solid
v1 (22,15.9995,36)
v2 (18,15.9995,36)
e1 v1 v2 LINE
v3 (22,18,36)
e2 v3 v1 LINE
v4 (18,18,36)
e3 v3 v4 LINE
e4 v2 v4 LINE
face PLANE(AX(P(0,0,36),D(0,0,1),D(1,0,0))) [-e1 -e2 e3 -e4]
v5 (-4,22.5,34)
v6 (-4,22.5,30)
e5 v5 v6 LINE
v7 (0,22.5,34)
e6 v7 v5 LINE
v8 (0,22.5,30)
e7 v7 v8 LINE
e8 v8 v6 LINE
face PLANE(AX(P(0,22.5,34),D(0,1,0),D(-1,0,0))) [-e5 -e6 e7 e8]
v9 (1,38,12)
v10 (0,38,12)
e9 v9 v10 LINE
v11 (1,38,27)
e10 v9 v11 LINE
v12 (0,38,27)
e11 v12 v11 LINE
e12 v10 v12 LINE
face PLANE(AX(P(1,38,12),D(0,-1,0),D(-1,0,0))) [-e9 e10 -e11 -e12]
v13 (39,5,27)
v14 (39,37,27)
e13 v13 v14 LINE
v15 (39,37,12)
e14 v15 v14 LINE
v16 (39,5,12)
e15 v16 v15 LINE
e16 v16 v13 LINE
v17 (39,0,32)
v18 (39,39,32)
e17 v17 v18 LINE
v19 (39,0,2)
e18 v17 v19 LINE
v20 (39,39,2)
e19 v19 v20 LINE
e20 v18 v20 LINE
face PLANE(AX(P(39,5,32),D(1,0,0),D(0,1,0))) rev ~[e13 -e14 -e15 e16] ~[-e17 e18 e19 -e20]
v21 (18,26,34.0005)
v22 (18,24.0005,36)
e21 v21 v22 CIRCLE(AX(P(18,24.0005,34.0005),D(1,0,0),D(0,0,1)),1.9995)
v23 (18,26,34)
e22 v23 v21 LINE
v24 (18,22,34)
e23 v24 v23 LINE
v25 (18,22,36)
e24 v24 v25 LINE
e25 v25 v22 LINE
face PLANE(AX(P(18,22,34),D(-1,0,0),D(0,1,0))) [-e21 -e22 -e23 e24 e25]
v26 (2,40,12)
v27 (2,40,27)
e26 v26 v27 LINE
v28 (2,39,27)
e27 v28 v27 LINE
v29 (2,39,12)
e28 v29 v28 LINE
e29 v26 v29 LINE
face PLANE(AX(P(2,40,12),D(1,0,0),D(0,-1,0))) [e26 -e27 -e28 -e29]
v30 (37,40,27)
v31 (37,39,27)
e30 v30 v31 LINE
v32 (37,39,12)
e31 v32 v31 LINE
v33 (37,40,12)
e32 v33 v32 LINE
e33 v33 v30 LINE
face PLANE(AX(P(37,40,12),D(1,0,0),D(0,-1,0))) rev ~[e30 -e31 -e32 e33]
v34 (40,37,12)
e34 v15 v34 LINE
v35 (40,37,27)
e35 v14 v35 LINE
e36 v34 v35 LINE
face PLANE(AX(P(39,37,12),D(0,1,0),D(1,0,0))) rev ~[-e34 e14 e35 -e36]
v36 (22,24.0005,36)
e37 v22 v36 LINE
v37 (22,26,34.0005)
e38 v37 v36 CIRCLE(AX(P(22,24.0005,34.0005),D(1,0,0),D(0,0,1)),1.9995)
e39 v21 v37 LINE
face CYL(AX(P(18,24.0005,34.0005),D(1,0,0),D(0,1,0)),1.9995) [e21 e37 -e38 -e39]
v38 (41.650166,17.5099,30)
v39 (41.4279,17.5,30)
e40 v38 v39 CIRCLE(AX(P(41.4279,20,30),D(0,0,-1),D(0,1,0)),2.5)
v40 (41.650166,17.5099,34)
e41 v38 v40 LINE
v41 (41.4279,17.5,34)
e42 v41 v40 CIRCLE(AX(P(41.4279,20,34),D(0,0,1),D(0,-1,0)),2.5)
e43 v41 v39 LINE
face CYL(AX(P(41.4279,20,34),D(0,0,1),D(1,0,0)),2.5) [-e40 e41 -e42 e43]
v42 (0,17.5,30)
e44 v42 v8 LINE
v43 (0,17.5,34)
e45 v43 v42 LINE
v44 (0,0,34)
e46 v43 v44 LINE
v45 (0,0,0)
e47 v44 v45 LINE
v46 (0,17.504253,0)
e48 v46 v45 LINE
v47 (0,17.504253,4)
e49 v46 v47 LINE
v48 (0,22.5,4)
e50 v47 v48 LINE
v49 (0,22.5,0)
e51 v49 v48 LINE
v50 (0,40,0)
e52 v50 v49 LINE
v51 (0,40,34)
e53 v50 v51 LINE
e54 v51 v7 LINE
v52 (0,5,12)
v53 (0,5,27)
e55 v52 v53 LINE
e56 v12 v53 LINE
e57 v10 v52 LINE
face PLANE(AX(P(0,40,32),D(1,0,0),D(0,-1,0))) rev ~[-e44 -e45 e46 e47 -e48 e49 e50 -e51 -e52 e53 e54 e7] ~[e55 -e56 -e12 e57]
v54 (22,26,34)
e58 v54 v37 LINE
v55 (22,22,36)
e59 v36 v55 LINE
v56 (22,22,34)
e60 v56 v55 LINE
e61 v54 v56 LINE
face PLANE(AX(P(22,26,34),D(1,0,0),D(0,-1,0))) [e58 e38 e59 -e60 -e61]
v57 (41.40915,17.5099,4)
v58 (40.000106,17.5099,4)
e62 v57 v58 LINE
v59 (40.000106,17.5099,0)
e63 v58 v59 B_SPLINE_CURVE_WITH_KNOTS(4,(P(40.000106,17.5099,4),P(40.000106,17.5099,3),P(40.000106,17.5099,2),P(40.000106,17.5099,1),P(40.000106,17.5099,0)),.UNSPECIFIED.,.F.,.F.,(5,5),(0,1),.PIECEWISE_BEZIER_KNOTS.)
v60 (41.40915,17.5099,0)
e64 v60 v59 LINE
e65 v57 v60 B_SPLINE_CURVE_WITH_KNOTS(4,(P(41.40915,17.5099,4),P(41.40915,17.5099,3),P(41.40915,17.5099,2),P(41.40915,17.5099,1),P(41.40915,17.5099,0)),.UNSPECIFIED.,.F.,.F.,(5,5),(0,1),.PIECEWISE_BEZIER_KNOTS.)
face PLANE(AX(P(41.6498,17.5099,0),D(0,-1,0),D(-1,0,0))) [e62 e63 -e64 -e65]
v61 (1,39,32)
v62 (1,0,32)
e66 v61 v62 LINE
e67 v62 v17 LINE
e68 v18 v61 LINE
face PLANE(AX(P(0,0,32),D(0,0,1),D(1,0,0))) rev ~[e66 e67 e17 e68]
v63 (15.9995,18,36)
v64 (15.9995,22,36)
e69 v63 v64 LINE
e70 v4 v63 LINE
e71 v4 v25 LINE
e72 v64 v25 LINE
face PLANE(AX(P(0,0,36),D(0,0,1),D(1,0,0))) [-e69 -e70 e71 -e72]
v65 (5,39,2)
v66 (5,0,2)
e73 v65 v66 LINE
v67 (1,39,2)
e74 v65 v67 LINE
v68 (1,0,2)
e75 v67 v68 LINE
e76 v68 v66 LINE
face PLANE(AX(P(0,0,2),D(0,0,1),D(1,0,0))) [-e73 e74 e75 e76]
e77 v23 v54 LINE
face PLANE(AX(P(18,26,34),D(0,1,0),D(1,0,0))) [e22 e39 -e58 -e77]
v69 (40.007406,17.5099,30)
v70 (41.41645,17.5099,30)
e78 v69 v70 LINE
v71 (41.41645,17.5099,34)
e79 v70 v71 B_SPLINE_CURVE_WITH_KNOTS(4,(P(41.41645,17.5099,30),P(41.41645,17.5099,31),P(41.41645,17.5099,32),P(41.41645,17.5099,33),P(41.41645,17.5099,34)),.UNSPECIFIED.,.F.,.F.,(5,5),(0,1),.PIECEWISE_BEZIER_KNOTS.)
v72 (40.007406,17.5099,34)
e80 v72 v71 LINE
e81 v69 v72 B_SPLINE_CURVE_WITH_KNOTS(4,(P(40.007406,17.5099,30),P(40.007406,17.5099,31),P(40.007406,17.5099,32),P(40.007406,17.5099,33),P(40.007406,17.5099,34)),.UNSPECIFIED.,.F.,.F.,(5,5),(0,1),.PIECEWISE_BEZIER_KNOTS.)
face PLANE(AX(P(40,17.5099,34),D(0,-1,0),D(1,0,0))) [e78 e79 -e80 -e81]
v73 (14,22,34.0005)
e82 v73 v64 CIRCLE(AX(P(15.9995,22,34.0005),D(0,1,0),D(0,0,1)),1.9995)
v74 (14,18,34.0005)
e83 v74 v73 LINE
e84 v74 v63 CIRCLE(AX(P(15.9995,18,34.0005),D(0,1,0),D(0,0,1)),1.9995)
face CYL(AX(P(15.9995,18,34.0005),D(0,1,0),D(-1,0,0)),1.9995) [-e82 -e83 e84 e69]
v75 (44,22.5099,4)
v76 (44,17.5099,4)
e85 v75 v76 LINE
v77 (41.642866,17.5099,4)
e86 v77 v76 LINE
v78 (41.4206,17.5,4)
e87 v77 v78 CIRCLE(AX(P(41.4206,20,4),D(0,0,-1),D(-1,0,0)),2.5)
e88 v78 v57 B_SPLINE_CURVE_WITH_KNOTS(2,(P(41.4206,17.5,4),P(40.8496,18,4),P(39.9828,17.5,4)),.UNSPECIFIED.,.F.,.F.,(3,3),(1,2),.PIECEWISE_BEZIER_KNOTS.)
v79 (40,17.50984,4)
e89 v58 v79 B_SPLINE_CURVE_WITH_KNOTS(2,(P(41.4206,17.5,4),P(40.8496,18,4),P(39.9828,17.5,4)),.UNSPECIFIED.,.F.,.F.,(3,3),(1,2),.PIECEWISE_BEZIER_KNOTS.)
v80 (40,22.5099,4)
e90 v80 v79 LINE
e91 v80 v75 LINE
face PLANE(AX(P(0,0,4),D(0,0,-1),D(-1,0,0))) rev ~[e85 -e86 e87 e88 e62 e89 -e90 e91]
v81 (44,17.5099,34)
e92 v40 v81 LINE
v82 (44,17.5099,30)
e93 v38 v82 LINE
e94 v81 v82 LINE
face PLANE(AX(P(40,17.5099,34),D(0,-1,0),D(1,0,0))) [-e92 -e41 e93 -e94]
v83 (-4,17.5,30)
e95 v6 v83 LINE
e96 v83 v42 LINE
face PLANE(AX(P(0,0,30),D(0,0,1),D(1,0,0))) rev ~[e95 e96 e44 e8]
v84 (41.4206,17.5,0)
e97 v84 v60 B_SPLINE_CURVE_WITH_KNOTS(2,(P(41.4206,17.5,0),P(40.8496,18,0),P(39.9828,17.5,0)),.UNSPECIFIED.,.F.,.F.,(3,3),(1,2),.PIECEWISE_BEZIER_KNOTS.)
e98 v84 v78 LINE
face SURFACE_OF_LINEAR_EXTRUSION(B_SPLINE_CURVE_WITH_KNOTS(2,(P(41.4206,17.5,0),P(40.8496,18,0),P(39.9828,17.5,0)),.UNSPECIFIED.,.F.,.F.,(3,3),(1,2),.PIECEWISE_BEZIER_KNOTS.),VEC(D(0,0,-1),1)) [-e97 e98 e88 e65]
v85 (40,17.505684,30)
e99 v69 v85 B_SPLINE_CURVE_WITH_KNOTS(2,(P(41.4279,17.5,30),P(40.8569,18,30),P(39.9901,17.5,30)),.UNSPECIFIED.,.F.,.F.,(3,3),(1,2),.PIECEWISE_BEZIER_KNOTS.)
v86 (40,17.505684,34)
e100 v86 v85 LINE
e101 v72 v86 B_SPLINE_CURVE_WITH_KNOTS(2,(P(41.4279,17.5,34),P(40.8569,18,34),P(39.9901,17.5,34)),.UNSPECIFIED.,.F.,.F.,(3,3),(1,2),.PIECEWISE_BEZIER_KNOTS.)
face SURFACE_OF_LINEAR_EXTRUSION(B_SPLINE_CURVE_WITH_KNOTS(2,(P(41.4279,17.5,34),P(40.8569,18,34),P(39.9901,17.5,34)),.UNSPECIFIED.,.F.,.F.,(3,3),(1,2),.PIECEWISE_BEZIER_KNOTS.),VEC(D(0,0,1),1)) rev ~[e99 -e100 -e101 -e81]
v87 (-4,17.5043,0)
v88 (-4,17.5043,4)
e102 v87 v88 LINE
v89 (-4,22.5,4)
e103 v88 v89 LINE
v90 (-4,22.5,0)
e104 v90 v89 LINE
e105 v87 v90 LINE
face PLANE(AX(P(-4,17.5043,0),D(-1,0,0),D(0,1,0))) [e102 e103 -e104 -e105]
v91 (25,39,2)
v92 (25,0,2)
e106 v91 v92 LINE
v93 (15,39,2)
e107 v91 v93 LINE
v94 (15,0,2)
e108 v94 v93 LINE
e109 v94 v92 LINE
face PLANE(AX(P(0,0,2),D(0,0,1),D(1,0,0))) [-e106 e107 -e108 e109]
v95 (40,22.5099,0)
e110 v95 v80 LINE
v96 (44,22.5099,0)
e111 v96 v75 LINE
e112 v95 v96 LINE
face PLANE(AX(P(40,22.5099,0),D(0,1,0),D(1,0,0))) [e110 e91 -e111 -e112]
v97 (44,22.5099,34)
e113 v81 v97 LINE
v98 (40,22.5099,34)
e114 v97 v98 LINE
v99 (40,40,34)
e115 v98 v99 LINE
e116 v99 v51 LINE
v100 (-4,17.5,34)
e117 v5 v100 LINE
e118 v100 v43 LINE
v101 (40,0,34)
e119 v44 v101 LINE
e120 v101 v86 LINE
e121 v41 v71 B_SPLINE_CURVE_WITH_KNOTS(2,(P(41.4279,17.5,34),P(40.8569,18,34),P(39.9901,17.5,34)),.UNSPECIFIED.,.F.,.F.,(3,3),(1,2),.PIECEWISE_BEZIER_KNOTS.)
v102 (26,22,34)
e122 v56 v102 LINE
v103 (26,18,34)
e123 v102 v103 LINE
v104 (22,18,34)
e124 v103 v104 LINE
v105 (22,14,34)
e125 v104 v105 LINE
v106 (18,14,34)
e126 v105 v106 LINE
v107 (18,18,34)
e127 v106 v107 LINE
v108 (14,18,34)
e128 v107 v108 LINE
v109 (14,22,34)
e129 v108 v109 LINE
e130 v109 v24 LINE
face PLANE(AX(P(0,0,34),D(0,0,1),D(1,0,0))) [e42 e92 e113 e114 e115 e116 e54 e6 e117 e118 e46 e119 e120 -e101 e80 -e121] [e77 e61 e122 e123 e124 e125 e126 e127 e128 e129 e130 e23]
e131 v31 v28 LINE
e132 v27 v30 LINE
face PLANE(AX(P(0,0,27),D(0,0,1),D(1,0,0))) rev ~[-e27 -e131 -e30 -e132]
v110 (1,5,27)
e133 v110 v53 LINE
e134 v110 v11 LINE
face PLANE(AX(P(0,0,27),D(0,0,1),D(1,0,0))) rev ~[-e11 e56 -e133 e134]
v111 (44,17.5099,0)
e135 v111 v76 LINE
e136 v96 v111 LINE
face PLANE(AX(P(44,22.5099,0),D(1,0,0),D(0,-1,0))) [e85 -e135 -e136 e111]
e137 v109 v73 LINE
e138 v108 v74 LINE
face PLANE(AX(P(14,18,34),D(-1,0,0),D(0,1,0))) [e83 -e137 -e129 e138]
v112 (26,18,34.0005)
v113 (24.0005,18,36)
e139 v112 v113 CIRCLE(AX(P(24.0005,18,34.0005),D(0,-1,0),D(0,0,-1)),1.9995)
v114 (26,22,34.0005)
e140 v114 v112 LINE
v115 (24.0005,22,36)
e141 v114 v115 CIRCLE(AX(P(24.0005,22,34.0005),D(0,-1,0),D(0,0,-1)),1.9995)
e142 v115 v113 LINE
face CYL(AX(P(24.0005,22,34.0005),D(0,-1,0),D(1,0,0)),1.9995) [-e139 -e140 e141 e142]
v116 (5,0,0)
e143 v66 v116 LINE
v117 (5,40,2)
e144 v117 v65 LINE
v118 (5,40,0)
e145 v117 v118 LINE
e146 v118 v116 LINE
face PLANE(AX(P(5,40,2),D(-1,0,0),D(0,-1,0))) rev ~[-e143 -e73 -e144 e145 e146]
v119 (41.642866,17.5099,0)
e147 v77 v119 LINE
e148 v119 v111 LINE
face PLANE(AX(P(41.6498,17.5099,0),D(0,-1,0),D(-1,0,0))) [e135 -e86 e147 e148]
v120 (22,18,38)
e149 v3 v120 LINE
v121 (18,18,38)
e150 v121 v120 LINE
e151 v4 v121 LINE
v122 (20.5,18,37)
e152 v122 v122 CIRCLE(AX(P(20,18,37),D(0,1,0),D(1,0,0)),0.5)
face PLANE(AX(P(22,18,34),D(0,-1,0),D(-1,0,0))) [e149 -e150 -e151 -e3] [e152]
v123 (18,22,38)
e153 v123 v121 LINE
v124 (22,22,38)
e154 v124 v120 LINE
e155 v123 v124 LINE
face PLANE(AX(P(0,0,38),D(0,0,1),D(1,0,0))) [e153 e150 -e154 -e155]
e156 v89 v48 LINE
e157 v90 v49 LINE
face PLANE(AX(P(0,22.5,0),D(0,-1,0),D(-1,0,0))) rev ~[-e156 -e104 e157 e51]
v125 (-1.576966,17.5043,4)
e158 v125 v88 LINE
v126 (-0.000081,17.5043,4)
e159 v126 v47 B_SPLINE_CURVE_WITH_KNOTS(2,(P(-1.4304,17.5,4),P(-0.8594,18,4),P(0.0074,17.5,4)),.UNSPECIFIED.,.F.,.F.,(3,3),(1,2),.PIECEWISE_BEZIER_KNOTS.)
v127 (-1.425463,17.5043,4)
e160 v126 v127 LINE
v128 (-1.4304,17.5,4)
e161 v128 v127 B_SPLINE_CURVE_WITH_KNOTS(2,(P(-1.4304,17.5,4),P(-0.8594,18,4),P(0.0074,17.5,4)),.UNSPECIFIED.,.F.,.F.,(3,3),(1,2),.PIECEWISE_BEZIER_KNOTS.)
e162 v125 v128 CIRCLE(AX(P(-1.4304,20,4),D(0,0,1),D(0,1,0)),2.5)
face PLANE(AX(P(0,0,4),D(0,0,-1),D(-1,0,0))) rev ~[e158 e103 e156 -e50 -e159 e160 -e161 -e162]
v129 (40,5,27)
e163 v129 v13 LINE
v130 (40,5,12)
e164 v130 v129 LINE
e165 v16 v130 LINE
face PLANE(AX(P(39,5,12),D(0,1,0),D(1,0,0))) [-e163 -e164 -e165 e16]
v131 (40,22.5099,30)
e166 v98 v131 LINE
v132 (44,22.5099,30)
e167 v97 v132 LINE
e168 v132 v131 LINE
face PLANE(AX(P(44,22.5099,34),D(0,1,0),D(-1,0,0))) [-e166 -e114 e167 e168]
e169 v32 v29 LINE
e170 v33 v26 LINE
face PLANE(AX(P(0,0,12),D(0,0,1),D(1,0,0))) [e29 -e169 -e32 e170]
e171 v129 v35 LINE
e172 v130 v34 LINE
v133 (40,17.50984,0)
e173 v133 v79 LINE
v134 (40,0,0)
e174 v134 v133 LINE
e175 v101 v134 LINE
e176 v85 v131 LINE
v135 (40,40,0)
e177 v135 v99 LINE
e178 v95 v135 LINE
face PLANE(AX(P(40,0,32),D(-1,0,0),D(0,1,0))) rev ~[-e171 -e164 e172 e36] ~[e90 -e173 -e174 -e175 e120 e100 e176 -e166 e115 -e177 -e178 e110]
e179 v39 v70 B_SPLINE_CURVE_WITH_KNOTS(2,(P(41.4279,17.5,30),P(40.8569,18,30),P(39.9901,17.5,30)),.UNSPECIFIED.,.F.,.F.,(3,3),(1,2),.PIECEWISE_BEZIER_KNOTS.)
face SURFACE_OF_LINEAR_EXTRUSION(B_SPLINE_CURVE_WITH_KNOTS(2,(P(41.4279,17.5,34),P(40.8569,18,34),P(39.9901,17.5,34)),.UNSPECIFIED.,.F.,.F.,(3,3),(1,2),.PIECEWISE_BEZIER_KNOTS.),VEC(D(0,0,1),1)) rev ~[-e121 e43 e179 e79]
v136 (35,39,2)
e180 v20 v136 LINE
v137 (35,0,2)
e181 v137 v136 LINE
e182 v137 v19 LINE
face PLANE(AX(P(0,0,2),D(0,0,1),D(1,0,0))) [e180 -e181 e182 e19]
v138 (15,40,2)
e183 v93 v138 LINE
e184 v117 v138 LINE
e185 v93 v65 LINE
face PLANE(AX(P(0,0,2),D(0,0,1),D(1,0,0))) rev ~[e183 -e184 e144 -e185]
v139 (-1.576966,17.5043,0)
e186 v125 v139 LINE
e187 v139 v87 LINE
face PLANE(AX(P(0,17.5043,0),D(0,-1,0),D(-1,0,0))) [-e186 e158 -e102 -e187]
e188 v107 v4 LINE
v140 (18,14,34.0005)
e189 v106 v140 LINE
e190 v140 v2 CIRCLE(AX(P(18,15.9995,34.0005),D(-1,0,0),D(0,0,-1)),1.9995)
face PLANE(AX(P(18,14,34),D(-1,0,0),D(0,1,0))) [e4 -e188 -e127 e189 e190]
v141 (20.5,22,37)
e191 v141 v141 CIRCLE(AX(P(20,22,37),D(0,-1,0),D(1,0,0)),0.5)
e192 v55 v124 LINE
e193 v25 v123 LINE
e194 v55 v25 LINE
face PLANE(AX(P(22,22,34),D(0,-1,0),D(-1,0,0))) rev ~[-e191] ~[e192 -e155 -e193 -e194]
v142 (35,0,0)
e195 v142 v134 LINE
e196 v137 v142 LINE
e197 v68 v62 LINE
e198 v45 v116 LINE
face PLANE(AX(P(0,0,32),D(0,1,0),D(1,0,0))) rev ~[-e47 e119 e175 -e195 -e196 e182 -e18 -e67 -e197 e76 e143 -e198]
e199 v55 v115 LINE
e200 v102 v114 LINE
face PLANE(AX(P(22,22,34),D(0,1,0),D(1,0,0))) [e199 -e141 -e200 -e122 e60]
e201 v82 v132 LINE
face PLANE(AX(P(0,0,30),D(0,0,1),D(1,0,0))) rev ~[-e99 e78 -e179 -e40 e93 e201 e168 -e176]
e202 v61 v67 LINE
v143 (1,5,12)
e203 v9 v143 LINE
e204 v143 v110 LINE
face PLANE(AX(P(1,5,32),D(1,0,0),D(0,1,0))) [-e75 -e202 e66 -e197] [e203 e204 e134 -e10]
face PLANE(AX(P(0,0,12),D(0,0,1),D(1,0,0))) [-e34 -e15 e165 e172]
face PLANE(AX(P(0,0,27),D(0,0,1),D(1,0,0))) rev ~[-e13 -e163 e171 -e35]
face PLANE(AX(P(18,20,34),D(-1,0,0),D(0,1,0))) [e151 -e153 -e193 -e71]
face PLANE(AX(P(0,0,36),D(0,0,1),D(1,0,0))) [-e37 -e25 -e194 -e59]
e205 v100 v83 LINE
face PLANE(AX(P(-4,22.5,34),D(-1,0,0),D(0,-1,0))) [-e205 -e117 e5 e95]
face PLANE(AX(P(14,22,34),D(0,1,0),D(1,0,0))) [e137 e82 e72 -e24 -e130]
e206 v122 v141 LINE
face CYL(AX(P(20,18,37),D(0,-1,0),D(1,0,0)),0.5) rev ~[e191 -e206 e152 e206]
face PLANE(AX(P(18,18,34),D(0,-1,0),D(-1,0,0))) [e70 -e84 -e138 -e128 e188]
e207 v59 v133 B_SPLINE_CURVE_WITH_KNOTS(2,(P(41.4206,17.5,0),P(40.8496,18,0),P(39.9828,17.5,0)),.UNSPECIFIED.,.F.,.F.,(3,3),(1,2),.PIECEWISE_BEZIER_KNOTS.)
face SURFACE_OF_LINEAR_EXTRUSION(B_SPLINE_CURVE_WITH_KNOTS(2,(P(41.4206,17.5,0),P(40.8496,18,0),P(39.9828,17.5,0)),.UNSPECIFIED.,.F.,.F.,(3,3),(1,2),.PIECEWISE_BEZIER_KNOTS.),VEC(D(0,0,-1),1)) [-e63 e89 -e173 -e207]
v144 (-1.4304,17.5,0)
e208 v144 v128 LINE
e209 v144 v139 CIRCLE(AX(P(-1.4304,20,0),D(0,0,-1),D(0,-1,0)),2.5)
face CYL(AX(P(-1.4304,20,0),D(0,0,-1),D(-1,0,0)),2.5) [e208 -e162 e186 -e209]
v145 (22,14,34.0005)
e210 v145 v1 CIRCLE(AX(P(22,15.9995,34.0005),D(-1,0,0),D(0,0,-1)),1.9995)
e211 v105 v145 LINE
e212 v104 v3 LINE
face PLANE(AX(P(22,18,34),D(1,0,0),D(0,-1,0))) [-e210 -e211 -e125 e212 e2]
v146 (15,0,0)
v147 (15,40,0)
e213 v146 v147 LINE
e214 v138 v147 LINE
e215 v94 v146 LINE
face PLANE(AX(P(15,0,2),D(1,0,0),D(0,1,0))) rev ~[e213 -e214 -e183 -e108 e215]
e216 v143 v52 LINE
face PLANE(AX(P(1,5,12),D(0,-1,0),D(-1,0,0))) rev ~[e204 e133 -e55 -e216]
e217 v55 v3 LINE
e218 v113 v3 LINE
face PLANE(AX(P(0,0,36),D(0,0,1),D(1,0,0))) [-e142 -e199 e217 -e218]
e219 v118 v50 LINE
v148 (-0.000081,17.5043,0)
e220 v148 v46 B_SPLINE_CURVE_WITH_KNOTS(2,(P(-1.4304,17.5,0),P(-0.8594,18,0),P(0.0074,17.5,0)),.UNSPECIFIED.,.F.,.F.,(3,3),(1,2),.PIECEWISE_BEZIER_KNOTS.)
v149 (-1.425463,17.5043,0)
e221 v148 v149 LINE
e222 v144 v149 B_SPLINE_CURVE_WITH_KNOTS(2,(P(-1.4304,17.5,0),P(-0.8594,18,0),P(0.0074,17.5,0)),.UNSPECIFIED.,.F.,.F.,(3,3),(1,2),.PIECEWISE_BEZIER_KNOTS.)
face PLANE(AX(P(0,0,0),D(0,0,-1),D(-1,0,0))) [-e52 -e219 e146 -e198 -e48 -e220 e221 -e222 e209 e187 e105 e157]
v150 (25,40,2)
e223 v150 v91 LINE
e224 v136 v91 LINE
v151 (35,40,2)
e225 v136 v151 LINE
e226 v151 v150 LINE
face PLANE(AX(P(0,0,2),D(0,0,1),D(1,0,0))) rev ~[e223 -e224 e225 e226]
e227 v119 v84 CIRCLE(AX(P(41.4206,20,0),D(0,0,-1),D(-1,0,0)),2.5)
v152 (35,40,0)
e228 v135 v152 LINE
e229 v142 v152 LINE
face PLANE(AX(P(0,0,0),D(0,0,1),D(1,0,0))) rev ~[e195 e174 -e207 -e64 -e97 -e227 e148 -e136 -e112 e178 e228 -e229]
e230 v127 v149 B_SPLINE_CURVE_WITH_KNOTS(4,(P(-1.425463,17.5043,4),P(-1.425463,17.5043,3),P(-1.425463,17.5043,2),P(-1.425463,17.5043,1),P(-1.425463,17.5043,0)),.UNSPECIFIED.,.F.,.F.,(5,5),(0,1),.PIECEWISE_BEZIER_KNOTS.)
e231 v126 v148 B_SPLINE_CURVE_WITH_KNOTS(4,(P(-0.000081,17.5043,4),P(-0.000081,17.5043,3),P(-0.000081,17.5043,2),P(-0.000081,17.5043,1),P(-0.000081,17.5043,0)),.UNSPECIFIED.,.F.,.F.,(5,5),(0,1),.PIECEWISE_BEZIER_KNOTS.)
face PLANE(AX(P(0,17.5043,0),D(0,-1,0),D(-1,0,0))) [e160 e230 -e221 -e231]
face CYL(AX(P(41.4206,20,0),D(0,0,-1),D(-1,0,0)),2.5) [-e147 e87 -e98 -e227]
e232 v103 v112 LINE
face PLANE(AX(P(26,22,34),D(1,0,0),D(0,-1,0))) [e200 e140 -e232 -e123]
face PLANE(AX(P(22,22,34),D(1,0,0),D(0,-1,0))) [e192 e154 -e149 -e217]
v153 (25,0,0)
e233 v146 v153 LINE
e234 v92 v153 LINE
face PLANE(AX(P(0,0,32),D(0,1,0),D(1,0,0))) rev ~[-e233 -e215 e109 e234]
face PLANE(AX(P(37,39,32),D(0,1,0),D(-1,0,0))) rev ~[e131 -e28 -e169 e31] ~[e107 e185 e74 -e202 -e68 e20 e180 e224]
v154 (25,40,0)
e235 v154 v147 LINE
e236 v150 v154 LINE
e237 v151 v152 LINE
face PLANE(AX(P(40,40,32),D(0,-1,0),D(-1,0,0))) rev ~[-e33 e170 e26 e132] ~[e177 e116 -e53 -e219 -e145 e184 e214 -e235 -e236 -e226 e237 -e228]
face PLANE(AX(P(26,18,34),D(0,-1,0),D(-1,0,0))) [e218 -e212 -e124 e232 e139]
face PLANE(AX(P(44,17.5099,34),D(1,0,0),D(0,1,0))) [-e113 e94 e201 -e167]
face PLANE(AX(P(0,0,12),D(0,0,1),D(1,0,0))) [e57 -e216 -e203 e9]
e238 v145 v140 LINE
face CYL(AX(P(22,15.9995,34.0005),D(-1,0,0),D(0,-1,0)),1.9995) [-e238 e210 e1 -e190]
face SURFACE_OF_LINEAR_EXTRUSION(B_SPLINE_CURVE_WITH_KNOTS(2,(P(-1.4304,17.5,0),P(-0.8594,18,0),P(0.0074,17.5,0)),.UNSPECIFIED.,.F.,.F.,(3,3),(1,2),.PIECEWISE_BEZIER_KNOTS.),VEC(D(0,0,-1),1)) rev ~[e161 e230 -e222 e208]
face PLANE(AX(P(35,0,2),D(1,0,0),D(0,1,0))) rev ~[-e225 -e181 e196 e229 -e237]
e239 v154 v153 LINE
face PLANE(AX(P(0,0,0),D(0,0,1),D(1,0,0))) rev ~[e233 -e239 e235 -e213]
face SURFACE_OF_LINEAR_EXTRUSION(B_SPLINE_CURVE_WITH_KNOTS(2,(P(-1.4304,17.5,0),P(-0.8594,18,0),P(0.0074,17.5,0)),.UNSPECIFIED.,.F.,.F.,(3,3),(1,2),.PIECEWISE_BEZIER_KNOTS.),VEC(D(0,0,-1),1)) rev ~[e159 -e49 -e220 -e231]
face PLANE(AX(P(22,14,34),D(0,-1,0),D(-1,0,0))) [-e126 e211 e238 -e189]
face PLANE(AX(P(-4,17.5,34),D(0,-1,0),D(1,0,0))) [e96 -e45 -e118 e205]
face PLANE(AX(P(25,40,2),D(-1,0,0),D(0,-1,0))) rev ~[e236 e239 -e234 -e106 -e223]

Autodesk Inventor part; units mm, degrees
ref_plane "YZ Plane" through (0, 0, 0) normal (1, 0, 0) x (0, 1, 0)
ref_plane "XZ Plane" through (0, 0, 0) normal (0, 1, 0) x (-1, 0, 0)
ref_plane "XY Plane" through (0, 0, 0) normal (0, 0, 1) x (1, 0, 0)
sketch "Esboço1" plane through (0, 0, 0) normal (0, 0, 1) x (1, 0, 0)
  line L0 (0, 0) -> (40, 0)
  line L1 (40, 0) -> (40, 40)
  line L2 (40, 40) -> (0, 40)
  line L3 (0, 40) -> (0, 0)
  dimension "d0" = 40
  dimension "d1" = 40
extrude "Extrusão1" add sketch "Esboço1" along normal blind 2
sketch "Esboço2" plane through (0, 0, 2) normal (0, 0, 1) x (1, 0, 0)
  line L0 (0, 40) -> (0, 0) projected
  line L1 (0, 0) -> (1, 0)
  line L2 (0, 0) -> (40, 0) projected
  line L3 (0, 0) -> (0, 40)
  line L4 (40, 40) -> (0, 40) projected
  line L5 (40, 0) -> (40, 40) projected
  line L6 (40, 40) -> (40, 0)
  line L7 (40, 0) -> (39, 0)
  line L8 (39, 0) -> (39, 39)
  line L9 (39, 39) -> (1, 39)
  line L10 (1, 39) -> (1, 0)
extrude "Extrusão2" add sketch "Esboço2" along normal blind 10 contours L4 L5 L2 L8 L9 L10 L1 L0
sketch "Esboço3" plane through (0, 0, 12) normal (0, 0, 1) x (1, 0, 0)
  line L0 (0, 40) -> (2, 40)
  line L1 (40, 40) -> (0, 40) projected
  line L2 (1, 39) -> (39, 39) projected
  line L3 (2, 39) -> (1, 39)
  line L4 (1, 39) -> (1, 38)
  line L5 (1, 0) -> (1, 39) projected
  line L6 (0, 38) -> (0, 40)
  line L7 (2, 40) -> (2, 39)
  line L8 (1, 38) -> (0, 38)
  line L9 (0, 40) -> (0, 0) projected
extrude "Extrusão3" add sketch "Esboço3" along normal blind 20
sketch "Esboço4" plane through (0, 0, 12) normal (0, 0, 1) x (1, 0, 0)
  line L0 (40, 40) -> (37, 40)
  line L1 (40, 40) -> (0, 40) projected
  line L2 (39, 39) -> (1, 39) projected
  line L3 (37, 39) -> (39, 39)
  line L4 (39, 39) -> (39, 37)
  line L5 (39, 39) -> (39, 0) projected
  line L6 (40, 0) -> (40, 40) projected
  line L7 (40, 37) -> (40, 40)
  line L8 (37, 40) -> (37, 39)
  line L9 (39, 37) -> (40, 37)
  line L10 (40, 40) -> (37, 40)
  line L11 (37, 39) -> (39, 39)
  line L12 (39, 39) -> (39, 37)
  point P0 (0, 0)
extrude "Extrusão4" add sketch "Esboço4" along normal blind 20
sketch "Esboço6" plane through (0, 0, 12) normal (0, 0, 1) x (1, 0, 0)
  line L0 (0, 38) -> (0, 0) projected
  line L1 (1, 0) -> (1, 38) projected
  line L2 (0, 0) -> (1, 0)
  line L3 (1, 0) -> (1, 5)
  line L4 (1, 5) -> (0, 5)
  line L5 (0, 5) -> (0, 0)
  line L6 (0, 0) -> (40, 0) projected
  line L7 (39, 0) -> (39, 39) projected
  line L8 (40, 0) -> (39, 0)
  line L9 (39, 0) -> (39, 5)
  line L10 (39, 5) -> (40, 5)
  line L11 (40, 5) -> (40, 0)
extrude "Extrusão5" add sketch "Esboço6" along normal blind 20
sketch "Esboço7" plane through (0, 0, 32) normal (0, 0, 1) x (1, 0, 0)
  line L0 (0, 38) -> (0, 5) projected
  line L1 (0, 38) -> (1, 38)
  line L2 (1, 5) -> (1, 38) projected
  line L3 (1, 38) -> (1, 5)
  line L4 (1, 5) -> (0, 5)
  line L5 (0, 40) -> (0, 38) projected
  line L6 (0, 5) -> (0, 38)
  point P0 (0, 0)
extrude "Extrusão6" add sketch "Esboço7" against normal blind 5
sketch "Esboço8" plane through (0, 0, 32) normal (0, 0, 1) x (1, 0, 0)
  line L0 (2, 40) -> (0, 40) projected
  line L1 (39, 39) -> (1, 39) projected
  line L2 (2, 40) -> (37, 40)
  line L3 (37, 40) -> (37, 39)
  line L4 (37, 39) -> (2, 39)
  line L5 (2, 39) -> (2, 40)
  point P0 (0, 0)
extrude "Extrusão7" add sketch "Esboço8" against normal blind 5
sketch "Esboço9" plane through (0, 0, 32) normal (0, 0, 1) x (1, 0, 0)
  line L0 (40, 0) -> (40, 40) projected
  line L1 (39, 37) -> (40, 37)
  line L2 (40, 37) -> (40, 5)
  line L3 (40, 5) -> (39, 5)
  line L4 (39, 5) -> (39, 37)
  point P0 (0, 0)
extrude "Extrusão8" add sketch "Esboço9" against normal blind 5
sketch "Esboço10" plane through (0, 0, 32) normal (0, 0, 1) x (1, 0, 0)
  line L0 (40, 40) -> (0, 40) projected
  line L1 (0, 40) -> (0, 0) projected
  line L2 (40, 40) -> (0, 40)
  line L3 (0, 40) -> (0, 0)
  line L4 (0, 0) -> (40, 0)
  line L5 (40, 0) -> (40, 40)
extrude "Extrusão9" add sketch "Esboço10" along normal blind 2
sketch "Esboço14" plane through (0, 0, 34) normal (0, 0, 1) x (1, 0, 0)
  line L0 (0, 40) -> (0, 0) projected
  line L1 (0, 40) -> (0, 20)
  circle A0 centre (-1.4378, 20) radius 2.5
  line L2 (-1.4378, 17.5) -> (-0.8668, 18) construction
  line L3 (-0.8668, 18) -> (0, 17.5) construction
  spline S0 degree 2 poles (-1.4378, 17.5) (-0.8668, 18) (0, 17.5) knots 1 1 1 2 2 2
  line L4 (40, 0) -> (40, 40) projected
  line L5 (40, 40) -> (40, 0)
  line L6 (40, 40) -> (0, 40) projected
  line L7 (0, 40) -> (0, 0)
  circle A1 centre (41.4279, 20) radius 2.5
  line L8 (41.4279, 17.5) -> (40.8569, 18) construction
  line L9 (40.8569, 18) -> (39.9901, 17.5) construction
  spline S1 degree 2 poles (41.4279, 17.5) (40.8569, 18) (39.9901, 17.5) knots 1 1 1 2 2 2
  line L10 (-1.4378, 20) -> (40, 20)
  line L11 (-1.4378, 22.5) -> (-0.8668, 22) construction
  line L12 (-0.8668, 22) -> (0, 22.5) construction
  spline S2 degree 2 poles (-1.4378, 22.5) (-0.8668, 22) (0, 22.5) knots 1 1 1 2 2 2
  spline S3 degree 2 poles (41.4279, 22.5) (40.8569, 22) (39.9901, 22.5) knots 1 1 1 2 2 2
  line L13 (41.4279, 22.5) -> (40.8569, 22) construction
  line L14 (40.8569, 22) -> (39.9901, 22.5) construction
  point P0 (40, 22.4943)
  point P1 (40, 17.5057)
  point P2 (0, 22.5)
  dimension "d30" = 5
extrude "Extrusão11" add sketch "Esboço14" against normal blind 4 contours L0 A0 S2 | L0 A0 S0 S2 | S3 A1 L4 | A1 S3 S1 L4 | L0 S0 A0 | A1 S1 L4
sketch "Esboço15" plane through (0, 0, 0) normal (0, 0, -1) x (-1, 0, 0)
  spline S0 degree 2 poles (1.4304, 17.5) (0.8594, 18) (-0.0074, 17.5) knots 1 1 1 2 2 2
  line L0 (1.4304, 17.5) -> (0.8594, 18) construction
  line L1 (0.8594, 18) -> (-0.0074, 17.5) construction
  circle A0 centre (1.4304, 20) radius 2.5
  spline S1 degree 2 poles (1.4304, 22.5) (0.8594, 22) (-0.0074, 22.5) knots 1 1 1 2 2 2
  line L2 (1.4304, 22.5) -> (0.8594, 22) construction
  line L3 (0.8594, 22) -> (-0.0074, 22.5) construction
  line L4 (-40, 40) -> (0, 40) projected
  line L5 (-40, 40) -> (-40, 0)
  line L6 (-39, 0) -> (-39, 39) projected
  spline S2 degree 2 poles (-41.4206, 17.5) (-40.8496, 18) (-39.9828, 17.5) knots 1 1 1 2 2 2
  line L7 (-41.4206, 17.5) -> (-40.8496, 18) construction
  line L8 (-40.8496, 18) -> (-39.9828, 17.5) construction
  circle A1 centre (-41.4206, 20) radius 2.5
  spline S3 degree 2 poles (-41.4206, 22.5) (-40.8496, 22) (-39.9828, 22.5) knots 1 1 1 2 2 2
  line L9 (-41.4206, 22.5) -> (-40.8496, 22) construction
  line L10 (-40.8496, 22) -> (-39.9828, 22.5) construction
  line L11 (0, 40) -> (0, 0) projected
  line L12 (0, 17.9497) -> (0, 22.0503)
  line L13 (-40, 0) -> (-40, 40) projected
  line L14 (-40, 17.9428) -> (-40, 22.0572)
  line L15 (-40, 17.9428) -> (-40, 22.0572)
  line L16 (-0.0074, 17.5) -> (3.9926, 17.5)
  line L17 (3.9926, 17.5) -> (3.9926, 22.5)
  line L18 (3.9926, 22.5) -> (-0.0074, 22.5)
  line L19 (-0.0074, 22.5) -> (-0.0074, 17.5)
  point P0 (1.4378, 22.5)
  point P1 (0, 17.5043)
  point P2 (0, 22.4957)
  point P3 (-40, 17.5099)
  point P4 (-40, 22.4901)
  dimension "d51" = 4
extrude "Extrusão12" add sketch "Esboço15" against normal blind 4 contours S0 A0 L11 S1 | L5 A1 S3 | S0 L11 A0 | L11 S1 A0 | L5 A1 S2 S3 | L5 S2 A1
sketch "Esboço20" plane through (0, 0, 2) normal (0, 0, 1) x (1, 0, 0)
  line L0 (0, 0) -> (40, 0) projected
  line L1 (0, 0) -> (10, 0)
  line L2 (10, 40) -> (0, 40)
  line L3 (0, 40) -> (0, 0)
  line L4 (40, 40) -> (0, 40) projected
  line L5 (25, 0) -> (35, 0)
  line L6 (35, 0) -> (35, 40)
  line L7 (35, 40) -> (25, 40)
  line L8 (25, 40) -> (25, 0)
  line L9 (1, 0) -> (39, 0) projected
  line L10 (5, 0) -> (15, 0)
  line L11 (15, 0) -> (15, 40)
  line L12 (15, 40) -> (5, 40)
  line L13 (5, 40) -> (5, 0)
  dimension "d44" = 10
  dimension "d45" = 10
  dimension "d46" = 40
extrude "Extrusão15" cut sketch "Esboço20" against normal blind 10 contours L13 L2 L4 L11 L0 | L8 L4 L6 L0
sketch "Esboço21" plane through (0, 0, 34) normal (0, 0, 1) x (1, 0, 0)
  line L0 (0, 40) -> (0, 22.5) projected
  line L1 (0, 22.5) -> (-4, 22.5)
  line L2 (-4, 22.5) -> (-4, 17.5)
  line L3 (-4, 17.5) -> (0, 17.5)
  line L4 (0, 17.5) -> (0, 22.5)
  point P0 (0, 0)
extrude "Extrusão16" add sketch "Esboço21" against normal blind 4
sketch "Esboço22" plane through (0, 0, 0) normal (0, 0, -1) x (-1, 0, 0)
  line L0 (0, 22.4957) -> (0, 17.5043) projected
  line L1 (0, 22.5) -> (4, 22.5) projected
  line L2 (0, 17.5043) -> (4, 17.5043)
  line L3 (4, 17.5043) -> (4, 22.5)
  line L4 (4, 22.5) -> (0, 22.5)
  line L5 (0, 22.5) -> (0, 17.5043)
  point P0 (0, 0)
extrude "Extrusão17" add sketch "Esboço22" against normal blind 4
sketch "Esboço23" plane through (0, 0, 34) normal (0, 0, 1) x (1, 0, 0)
  line L0 (40, 0) -> (40, 17.5099) projected
  line L1 (40, 17.5099) -> (44, 17.5099)
  line L2 (44, 17.5099) -> (44, 22.5099)
  line L3 (44, 22.5099) -> (40, 22.5099)
  line L4 (40, 22.5099) -> (40, 17.5099)
  point P0 (0, 0)
  dimension "d54" = 5
extrude "Extrusão18" add sketch "Esboço23" against normal blind 4
sketch "Esboço24" plane through (0, 0, 0) normal (0, 0, -1) x (-1, 0, 0)
  line L0 (-40, 22.4901) -> (-40, 40) projected
  line L1 (-41.6498, 17.5099) -> (-44, 17.5099) projected
  line L2 (-40, 22.5099) -> (-44, 22.5099)
  line L3 (-44, 22.5099) -> (-44, 17.5099)
  line L4 (-44, 17.5099) -> (-40, 17.5099)
  line L5 (-40, 17.5099) -> (-40, 22.5099)
  point P0 (0, 0)
  dimension "d57" = 5
extrude "Extrusão19" add sketch "Esboço24" against normal blind 4
sketch "Esboço26" plane through (0, 0, 34) normal (0, 0, 1) x (1, 0, 0)
  line L0 (0, 40) -> (0, 22.5) projected
  line L1 (0, 40) -> (20, 40)
  line L2 (15, 40) -> (5, 40) projected
  line L3 (20, 40) -> (20, 20)
  line L4 (20, 20) -> (20, 22)
  line L5 (20, 20) -> (20, 18)
  line L6 (20, 40) -> (20, 20)
  line L7 (25, 40) -> (15, 40) projected
  line L8 (20, 20) -> (22, 20)
  line L9 (20, 20) -> (18, 20)
  line L10 (18, 20) -> (18, 22)
  line L11 (18, 22) -> (20, 22)
  line L12 (22, 22) -> (22, 20)
  line L13 (22, 22) -> (20, 22)
  line L14 (22, 20) -> (22, 18)
  line L15 (22, 18) -> (20, 18)
  line L16 (18, 18) -> (18, 20)
  line L17 (18.1558, 18) -> (20, 18)
  line L18 (18, 18) -> (18.1677, 18)
  point P0 (0, 0)
extrude "Extrusão20" add sketch "Esboço26" along normal blind 4
sketch "Esboço27" plane through (0, 0, 34) normal (0, 0, 1) x (1, 0, 0)
  line L0 (22, 22) -> (22, 18) projected
  line L1 (22, 18) -> (22, 14)
  line L2 (22, 14) -> (18, 14)
  line L3 (18, 14) -> (18, 18)
  line L4 (18, 18) -> (14, 18)
  line L5 (14, 18) -> (14, 22)
  line L6 (18, 22) -> (22, 22) projected
  line L7 (14, 22) -> (18, 22)
  line L8 (18, 22) -> (18, 26)
  line L9 (18, 26) -> (22, 26)
  line L10 (22, 26) -> (22, 22)
  line L11 (22, 22) -> (26, 22)
  line L12 (26, 22) -> (26, 18)
  line L13 (26, 18) -> (22, 18)
  point P0 (0, 0)
extrude "Extrusão21" add sketch "Esboço27" along normal blind 2
fillet "Arredondamento1" radius 2 4 edges at (26, 20, 36) (20, 26, 36) (14, 20, 36) (20, 14, 36)
sketch "Esboço30" plane through (18, 18, 38) normal (0, -1, 0) x (1, 0, 0)
  line L0 (4, -2) -> (0, -2) projected
  line L1 (0, -2) -> (0, -1)
  line L2 (0, -1) -> (4, -1)
  line L3 (4, -1) -> (2, -1)
  circle A0 centre (2, -1) radius 0.5
  point P0 (-18, -38)
  dimension "d65" = 1
extrude "Extrusão22" cut sketch "Esboço30" against normal through all
properties part number "elevador_caixa_com_estabi v2"
